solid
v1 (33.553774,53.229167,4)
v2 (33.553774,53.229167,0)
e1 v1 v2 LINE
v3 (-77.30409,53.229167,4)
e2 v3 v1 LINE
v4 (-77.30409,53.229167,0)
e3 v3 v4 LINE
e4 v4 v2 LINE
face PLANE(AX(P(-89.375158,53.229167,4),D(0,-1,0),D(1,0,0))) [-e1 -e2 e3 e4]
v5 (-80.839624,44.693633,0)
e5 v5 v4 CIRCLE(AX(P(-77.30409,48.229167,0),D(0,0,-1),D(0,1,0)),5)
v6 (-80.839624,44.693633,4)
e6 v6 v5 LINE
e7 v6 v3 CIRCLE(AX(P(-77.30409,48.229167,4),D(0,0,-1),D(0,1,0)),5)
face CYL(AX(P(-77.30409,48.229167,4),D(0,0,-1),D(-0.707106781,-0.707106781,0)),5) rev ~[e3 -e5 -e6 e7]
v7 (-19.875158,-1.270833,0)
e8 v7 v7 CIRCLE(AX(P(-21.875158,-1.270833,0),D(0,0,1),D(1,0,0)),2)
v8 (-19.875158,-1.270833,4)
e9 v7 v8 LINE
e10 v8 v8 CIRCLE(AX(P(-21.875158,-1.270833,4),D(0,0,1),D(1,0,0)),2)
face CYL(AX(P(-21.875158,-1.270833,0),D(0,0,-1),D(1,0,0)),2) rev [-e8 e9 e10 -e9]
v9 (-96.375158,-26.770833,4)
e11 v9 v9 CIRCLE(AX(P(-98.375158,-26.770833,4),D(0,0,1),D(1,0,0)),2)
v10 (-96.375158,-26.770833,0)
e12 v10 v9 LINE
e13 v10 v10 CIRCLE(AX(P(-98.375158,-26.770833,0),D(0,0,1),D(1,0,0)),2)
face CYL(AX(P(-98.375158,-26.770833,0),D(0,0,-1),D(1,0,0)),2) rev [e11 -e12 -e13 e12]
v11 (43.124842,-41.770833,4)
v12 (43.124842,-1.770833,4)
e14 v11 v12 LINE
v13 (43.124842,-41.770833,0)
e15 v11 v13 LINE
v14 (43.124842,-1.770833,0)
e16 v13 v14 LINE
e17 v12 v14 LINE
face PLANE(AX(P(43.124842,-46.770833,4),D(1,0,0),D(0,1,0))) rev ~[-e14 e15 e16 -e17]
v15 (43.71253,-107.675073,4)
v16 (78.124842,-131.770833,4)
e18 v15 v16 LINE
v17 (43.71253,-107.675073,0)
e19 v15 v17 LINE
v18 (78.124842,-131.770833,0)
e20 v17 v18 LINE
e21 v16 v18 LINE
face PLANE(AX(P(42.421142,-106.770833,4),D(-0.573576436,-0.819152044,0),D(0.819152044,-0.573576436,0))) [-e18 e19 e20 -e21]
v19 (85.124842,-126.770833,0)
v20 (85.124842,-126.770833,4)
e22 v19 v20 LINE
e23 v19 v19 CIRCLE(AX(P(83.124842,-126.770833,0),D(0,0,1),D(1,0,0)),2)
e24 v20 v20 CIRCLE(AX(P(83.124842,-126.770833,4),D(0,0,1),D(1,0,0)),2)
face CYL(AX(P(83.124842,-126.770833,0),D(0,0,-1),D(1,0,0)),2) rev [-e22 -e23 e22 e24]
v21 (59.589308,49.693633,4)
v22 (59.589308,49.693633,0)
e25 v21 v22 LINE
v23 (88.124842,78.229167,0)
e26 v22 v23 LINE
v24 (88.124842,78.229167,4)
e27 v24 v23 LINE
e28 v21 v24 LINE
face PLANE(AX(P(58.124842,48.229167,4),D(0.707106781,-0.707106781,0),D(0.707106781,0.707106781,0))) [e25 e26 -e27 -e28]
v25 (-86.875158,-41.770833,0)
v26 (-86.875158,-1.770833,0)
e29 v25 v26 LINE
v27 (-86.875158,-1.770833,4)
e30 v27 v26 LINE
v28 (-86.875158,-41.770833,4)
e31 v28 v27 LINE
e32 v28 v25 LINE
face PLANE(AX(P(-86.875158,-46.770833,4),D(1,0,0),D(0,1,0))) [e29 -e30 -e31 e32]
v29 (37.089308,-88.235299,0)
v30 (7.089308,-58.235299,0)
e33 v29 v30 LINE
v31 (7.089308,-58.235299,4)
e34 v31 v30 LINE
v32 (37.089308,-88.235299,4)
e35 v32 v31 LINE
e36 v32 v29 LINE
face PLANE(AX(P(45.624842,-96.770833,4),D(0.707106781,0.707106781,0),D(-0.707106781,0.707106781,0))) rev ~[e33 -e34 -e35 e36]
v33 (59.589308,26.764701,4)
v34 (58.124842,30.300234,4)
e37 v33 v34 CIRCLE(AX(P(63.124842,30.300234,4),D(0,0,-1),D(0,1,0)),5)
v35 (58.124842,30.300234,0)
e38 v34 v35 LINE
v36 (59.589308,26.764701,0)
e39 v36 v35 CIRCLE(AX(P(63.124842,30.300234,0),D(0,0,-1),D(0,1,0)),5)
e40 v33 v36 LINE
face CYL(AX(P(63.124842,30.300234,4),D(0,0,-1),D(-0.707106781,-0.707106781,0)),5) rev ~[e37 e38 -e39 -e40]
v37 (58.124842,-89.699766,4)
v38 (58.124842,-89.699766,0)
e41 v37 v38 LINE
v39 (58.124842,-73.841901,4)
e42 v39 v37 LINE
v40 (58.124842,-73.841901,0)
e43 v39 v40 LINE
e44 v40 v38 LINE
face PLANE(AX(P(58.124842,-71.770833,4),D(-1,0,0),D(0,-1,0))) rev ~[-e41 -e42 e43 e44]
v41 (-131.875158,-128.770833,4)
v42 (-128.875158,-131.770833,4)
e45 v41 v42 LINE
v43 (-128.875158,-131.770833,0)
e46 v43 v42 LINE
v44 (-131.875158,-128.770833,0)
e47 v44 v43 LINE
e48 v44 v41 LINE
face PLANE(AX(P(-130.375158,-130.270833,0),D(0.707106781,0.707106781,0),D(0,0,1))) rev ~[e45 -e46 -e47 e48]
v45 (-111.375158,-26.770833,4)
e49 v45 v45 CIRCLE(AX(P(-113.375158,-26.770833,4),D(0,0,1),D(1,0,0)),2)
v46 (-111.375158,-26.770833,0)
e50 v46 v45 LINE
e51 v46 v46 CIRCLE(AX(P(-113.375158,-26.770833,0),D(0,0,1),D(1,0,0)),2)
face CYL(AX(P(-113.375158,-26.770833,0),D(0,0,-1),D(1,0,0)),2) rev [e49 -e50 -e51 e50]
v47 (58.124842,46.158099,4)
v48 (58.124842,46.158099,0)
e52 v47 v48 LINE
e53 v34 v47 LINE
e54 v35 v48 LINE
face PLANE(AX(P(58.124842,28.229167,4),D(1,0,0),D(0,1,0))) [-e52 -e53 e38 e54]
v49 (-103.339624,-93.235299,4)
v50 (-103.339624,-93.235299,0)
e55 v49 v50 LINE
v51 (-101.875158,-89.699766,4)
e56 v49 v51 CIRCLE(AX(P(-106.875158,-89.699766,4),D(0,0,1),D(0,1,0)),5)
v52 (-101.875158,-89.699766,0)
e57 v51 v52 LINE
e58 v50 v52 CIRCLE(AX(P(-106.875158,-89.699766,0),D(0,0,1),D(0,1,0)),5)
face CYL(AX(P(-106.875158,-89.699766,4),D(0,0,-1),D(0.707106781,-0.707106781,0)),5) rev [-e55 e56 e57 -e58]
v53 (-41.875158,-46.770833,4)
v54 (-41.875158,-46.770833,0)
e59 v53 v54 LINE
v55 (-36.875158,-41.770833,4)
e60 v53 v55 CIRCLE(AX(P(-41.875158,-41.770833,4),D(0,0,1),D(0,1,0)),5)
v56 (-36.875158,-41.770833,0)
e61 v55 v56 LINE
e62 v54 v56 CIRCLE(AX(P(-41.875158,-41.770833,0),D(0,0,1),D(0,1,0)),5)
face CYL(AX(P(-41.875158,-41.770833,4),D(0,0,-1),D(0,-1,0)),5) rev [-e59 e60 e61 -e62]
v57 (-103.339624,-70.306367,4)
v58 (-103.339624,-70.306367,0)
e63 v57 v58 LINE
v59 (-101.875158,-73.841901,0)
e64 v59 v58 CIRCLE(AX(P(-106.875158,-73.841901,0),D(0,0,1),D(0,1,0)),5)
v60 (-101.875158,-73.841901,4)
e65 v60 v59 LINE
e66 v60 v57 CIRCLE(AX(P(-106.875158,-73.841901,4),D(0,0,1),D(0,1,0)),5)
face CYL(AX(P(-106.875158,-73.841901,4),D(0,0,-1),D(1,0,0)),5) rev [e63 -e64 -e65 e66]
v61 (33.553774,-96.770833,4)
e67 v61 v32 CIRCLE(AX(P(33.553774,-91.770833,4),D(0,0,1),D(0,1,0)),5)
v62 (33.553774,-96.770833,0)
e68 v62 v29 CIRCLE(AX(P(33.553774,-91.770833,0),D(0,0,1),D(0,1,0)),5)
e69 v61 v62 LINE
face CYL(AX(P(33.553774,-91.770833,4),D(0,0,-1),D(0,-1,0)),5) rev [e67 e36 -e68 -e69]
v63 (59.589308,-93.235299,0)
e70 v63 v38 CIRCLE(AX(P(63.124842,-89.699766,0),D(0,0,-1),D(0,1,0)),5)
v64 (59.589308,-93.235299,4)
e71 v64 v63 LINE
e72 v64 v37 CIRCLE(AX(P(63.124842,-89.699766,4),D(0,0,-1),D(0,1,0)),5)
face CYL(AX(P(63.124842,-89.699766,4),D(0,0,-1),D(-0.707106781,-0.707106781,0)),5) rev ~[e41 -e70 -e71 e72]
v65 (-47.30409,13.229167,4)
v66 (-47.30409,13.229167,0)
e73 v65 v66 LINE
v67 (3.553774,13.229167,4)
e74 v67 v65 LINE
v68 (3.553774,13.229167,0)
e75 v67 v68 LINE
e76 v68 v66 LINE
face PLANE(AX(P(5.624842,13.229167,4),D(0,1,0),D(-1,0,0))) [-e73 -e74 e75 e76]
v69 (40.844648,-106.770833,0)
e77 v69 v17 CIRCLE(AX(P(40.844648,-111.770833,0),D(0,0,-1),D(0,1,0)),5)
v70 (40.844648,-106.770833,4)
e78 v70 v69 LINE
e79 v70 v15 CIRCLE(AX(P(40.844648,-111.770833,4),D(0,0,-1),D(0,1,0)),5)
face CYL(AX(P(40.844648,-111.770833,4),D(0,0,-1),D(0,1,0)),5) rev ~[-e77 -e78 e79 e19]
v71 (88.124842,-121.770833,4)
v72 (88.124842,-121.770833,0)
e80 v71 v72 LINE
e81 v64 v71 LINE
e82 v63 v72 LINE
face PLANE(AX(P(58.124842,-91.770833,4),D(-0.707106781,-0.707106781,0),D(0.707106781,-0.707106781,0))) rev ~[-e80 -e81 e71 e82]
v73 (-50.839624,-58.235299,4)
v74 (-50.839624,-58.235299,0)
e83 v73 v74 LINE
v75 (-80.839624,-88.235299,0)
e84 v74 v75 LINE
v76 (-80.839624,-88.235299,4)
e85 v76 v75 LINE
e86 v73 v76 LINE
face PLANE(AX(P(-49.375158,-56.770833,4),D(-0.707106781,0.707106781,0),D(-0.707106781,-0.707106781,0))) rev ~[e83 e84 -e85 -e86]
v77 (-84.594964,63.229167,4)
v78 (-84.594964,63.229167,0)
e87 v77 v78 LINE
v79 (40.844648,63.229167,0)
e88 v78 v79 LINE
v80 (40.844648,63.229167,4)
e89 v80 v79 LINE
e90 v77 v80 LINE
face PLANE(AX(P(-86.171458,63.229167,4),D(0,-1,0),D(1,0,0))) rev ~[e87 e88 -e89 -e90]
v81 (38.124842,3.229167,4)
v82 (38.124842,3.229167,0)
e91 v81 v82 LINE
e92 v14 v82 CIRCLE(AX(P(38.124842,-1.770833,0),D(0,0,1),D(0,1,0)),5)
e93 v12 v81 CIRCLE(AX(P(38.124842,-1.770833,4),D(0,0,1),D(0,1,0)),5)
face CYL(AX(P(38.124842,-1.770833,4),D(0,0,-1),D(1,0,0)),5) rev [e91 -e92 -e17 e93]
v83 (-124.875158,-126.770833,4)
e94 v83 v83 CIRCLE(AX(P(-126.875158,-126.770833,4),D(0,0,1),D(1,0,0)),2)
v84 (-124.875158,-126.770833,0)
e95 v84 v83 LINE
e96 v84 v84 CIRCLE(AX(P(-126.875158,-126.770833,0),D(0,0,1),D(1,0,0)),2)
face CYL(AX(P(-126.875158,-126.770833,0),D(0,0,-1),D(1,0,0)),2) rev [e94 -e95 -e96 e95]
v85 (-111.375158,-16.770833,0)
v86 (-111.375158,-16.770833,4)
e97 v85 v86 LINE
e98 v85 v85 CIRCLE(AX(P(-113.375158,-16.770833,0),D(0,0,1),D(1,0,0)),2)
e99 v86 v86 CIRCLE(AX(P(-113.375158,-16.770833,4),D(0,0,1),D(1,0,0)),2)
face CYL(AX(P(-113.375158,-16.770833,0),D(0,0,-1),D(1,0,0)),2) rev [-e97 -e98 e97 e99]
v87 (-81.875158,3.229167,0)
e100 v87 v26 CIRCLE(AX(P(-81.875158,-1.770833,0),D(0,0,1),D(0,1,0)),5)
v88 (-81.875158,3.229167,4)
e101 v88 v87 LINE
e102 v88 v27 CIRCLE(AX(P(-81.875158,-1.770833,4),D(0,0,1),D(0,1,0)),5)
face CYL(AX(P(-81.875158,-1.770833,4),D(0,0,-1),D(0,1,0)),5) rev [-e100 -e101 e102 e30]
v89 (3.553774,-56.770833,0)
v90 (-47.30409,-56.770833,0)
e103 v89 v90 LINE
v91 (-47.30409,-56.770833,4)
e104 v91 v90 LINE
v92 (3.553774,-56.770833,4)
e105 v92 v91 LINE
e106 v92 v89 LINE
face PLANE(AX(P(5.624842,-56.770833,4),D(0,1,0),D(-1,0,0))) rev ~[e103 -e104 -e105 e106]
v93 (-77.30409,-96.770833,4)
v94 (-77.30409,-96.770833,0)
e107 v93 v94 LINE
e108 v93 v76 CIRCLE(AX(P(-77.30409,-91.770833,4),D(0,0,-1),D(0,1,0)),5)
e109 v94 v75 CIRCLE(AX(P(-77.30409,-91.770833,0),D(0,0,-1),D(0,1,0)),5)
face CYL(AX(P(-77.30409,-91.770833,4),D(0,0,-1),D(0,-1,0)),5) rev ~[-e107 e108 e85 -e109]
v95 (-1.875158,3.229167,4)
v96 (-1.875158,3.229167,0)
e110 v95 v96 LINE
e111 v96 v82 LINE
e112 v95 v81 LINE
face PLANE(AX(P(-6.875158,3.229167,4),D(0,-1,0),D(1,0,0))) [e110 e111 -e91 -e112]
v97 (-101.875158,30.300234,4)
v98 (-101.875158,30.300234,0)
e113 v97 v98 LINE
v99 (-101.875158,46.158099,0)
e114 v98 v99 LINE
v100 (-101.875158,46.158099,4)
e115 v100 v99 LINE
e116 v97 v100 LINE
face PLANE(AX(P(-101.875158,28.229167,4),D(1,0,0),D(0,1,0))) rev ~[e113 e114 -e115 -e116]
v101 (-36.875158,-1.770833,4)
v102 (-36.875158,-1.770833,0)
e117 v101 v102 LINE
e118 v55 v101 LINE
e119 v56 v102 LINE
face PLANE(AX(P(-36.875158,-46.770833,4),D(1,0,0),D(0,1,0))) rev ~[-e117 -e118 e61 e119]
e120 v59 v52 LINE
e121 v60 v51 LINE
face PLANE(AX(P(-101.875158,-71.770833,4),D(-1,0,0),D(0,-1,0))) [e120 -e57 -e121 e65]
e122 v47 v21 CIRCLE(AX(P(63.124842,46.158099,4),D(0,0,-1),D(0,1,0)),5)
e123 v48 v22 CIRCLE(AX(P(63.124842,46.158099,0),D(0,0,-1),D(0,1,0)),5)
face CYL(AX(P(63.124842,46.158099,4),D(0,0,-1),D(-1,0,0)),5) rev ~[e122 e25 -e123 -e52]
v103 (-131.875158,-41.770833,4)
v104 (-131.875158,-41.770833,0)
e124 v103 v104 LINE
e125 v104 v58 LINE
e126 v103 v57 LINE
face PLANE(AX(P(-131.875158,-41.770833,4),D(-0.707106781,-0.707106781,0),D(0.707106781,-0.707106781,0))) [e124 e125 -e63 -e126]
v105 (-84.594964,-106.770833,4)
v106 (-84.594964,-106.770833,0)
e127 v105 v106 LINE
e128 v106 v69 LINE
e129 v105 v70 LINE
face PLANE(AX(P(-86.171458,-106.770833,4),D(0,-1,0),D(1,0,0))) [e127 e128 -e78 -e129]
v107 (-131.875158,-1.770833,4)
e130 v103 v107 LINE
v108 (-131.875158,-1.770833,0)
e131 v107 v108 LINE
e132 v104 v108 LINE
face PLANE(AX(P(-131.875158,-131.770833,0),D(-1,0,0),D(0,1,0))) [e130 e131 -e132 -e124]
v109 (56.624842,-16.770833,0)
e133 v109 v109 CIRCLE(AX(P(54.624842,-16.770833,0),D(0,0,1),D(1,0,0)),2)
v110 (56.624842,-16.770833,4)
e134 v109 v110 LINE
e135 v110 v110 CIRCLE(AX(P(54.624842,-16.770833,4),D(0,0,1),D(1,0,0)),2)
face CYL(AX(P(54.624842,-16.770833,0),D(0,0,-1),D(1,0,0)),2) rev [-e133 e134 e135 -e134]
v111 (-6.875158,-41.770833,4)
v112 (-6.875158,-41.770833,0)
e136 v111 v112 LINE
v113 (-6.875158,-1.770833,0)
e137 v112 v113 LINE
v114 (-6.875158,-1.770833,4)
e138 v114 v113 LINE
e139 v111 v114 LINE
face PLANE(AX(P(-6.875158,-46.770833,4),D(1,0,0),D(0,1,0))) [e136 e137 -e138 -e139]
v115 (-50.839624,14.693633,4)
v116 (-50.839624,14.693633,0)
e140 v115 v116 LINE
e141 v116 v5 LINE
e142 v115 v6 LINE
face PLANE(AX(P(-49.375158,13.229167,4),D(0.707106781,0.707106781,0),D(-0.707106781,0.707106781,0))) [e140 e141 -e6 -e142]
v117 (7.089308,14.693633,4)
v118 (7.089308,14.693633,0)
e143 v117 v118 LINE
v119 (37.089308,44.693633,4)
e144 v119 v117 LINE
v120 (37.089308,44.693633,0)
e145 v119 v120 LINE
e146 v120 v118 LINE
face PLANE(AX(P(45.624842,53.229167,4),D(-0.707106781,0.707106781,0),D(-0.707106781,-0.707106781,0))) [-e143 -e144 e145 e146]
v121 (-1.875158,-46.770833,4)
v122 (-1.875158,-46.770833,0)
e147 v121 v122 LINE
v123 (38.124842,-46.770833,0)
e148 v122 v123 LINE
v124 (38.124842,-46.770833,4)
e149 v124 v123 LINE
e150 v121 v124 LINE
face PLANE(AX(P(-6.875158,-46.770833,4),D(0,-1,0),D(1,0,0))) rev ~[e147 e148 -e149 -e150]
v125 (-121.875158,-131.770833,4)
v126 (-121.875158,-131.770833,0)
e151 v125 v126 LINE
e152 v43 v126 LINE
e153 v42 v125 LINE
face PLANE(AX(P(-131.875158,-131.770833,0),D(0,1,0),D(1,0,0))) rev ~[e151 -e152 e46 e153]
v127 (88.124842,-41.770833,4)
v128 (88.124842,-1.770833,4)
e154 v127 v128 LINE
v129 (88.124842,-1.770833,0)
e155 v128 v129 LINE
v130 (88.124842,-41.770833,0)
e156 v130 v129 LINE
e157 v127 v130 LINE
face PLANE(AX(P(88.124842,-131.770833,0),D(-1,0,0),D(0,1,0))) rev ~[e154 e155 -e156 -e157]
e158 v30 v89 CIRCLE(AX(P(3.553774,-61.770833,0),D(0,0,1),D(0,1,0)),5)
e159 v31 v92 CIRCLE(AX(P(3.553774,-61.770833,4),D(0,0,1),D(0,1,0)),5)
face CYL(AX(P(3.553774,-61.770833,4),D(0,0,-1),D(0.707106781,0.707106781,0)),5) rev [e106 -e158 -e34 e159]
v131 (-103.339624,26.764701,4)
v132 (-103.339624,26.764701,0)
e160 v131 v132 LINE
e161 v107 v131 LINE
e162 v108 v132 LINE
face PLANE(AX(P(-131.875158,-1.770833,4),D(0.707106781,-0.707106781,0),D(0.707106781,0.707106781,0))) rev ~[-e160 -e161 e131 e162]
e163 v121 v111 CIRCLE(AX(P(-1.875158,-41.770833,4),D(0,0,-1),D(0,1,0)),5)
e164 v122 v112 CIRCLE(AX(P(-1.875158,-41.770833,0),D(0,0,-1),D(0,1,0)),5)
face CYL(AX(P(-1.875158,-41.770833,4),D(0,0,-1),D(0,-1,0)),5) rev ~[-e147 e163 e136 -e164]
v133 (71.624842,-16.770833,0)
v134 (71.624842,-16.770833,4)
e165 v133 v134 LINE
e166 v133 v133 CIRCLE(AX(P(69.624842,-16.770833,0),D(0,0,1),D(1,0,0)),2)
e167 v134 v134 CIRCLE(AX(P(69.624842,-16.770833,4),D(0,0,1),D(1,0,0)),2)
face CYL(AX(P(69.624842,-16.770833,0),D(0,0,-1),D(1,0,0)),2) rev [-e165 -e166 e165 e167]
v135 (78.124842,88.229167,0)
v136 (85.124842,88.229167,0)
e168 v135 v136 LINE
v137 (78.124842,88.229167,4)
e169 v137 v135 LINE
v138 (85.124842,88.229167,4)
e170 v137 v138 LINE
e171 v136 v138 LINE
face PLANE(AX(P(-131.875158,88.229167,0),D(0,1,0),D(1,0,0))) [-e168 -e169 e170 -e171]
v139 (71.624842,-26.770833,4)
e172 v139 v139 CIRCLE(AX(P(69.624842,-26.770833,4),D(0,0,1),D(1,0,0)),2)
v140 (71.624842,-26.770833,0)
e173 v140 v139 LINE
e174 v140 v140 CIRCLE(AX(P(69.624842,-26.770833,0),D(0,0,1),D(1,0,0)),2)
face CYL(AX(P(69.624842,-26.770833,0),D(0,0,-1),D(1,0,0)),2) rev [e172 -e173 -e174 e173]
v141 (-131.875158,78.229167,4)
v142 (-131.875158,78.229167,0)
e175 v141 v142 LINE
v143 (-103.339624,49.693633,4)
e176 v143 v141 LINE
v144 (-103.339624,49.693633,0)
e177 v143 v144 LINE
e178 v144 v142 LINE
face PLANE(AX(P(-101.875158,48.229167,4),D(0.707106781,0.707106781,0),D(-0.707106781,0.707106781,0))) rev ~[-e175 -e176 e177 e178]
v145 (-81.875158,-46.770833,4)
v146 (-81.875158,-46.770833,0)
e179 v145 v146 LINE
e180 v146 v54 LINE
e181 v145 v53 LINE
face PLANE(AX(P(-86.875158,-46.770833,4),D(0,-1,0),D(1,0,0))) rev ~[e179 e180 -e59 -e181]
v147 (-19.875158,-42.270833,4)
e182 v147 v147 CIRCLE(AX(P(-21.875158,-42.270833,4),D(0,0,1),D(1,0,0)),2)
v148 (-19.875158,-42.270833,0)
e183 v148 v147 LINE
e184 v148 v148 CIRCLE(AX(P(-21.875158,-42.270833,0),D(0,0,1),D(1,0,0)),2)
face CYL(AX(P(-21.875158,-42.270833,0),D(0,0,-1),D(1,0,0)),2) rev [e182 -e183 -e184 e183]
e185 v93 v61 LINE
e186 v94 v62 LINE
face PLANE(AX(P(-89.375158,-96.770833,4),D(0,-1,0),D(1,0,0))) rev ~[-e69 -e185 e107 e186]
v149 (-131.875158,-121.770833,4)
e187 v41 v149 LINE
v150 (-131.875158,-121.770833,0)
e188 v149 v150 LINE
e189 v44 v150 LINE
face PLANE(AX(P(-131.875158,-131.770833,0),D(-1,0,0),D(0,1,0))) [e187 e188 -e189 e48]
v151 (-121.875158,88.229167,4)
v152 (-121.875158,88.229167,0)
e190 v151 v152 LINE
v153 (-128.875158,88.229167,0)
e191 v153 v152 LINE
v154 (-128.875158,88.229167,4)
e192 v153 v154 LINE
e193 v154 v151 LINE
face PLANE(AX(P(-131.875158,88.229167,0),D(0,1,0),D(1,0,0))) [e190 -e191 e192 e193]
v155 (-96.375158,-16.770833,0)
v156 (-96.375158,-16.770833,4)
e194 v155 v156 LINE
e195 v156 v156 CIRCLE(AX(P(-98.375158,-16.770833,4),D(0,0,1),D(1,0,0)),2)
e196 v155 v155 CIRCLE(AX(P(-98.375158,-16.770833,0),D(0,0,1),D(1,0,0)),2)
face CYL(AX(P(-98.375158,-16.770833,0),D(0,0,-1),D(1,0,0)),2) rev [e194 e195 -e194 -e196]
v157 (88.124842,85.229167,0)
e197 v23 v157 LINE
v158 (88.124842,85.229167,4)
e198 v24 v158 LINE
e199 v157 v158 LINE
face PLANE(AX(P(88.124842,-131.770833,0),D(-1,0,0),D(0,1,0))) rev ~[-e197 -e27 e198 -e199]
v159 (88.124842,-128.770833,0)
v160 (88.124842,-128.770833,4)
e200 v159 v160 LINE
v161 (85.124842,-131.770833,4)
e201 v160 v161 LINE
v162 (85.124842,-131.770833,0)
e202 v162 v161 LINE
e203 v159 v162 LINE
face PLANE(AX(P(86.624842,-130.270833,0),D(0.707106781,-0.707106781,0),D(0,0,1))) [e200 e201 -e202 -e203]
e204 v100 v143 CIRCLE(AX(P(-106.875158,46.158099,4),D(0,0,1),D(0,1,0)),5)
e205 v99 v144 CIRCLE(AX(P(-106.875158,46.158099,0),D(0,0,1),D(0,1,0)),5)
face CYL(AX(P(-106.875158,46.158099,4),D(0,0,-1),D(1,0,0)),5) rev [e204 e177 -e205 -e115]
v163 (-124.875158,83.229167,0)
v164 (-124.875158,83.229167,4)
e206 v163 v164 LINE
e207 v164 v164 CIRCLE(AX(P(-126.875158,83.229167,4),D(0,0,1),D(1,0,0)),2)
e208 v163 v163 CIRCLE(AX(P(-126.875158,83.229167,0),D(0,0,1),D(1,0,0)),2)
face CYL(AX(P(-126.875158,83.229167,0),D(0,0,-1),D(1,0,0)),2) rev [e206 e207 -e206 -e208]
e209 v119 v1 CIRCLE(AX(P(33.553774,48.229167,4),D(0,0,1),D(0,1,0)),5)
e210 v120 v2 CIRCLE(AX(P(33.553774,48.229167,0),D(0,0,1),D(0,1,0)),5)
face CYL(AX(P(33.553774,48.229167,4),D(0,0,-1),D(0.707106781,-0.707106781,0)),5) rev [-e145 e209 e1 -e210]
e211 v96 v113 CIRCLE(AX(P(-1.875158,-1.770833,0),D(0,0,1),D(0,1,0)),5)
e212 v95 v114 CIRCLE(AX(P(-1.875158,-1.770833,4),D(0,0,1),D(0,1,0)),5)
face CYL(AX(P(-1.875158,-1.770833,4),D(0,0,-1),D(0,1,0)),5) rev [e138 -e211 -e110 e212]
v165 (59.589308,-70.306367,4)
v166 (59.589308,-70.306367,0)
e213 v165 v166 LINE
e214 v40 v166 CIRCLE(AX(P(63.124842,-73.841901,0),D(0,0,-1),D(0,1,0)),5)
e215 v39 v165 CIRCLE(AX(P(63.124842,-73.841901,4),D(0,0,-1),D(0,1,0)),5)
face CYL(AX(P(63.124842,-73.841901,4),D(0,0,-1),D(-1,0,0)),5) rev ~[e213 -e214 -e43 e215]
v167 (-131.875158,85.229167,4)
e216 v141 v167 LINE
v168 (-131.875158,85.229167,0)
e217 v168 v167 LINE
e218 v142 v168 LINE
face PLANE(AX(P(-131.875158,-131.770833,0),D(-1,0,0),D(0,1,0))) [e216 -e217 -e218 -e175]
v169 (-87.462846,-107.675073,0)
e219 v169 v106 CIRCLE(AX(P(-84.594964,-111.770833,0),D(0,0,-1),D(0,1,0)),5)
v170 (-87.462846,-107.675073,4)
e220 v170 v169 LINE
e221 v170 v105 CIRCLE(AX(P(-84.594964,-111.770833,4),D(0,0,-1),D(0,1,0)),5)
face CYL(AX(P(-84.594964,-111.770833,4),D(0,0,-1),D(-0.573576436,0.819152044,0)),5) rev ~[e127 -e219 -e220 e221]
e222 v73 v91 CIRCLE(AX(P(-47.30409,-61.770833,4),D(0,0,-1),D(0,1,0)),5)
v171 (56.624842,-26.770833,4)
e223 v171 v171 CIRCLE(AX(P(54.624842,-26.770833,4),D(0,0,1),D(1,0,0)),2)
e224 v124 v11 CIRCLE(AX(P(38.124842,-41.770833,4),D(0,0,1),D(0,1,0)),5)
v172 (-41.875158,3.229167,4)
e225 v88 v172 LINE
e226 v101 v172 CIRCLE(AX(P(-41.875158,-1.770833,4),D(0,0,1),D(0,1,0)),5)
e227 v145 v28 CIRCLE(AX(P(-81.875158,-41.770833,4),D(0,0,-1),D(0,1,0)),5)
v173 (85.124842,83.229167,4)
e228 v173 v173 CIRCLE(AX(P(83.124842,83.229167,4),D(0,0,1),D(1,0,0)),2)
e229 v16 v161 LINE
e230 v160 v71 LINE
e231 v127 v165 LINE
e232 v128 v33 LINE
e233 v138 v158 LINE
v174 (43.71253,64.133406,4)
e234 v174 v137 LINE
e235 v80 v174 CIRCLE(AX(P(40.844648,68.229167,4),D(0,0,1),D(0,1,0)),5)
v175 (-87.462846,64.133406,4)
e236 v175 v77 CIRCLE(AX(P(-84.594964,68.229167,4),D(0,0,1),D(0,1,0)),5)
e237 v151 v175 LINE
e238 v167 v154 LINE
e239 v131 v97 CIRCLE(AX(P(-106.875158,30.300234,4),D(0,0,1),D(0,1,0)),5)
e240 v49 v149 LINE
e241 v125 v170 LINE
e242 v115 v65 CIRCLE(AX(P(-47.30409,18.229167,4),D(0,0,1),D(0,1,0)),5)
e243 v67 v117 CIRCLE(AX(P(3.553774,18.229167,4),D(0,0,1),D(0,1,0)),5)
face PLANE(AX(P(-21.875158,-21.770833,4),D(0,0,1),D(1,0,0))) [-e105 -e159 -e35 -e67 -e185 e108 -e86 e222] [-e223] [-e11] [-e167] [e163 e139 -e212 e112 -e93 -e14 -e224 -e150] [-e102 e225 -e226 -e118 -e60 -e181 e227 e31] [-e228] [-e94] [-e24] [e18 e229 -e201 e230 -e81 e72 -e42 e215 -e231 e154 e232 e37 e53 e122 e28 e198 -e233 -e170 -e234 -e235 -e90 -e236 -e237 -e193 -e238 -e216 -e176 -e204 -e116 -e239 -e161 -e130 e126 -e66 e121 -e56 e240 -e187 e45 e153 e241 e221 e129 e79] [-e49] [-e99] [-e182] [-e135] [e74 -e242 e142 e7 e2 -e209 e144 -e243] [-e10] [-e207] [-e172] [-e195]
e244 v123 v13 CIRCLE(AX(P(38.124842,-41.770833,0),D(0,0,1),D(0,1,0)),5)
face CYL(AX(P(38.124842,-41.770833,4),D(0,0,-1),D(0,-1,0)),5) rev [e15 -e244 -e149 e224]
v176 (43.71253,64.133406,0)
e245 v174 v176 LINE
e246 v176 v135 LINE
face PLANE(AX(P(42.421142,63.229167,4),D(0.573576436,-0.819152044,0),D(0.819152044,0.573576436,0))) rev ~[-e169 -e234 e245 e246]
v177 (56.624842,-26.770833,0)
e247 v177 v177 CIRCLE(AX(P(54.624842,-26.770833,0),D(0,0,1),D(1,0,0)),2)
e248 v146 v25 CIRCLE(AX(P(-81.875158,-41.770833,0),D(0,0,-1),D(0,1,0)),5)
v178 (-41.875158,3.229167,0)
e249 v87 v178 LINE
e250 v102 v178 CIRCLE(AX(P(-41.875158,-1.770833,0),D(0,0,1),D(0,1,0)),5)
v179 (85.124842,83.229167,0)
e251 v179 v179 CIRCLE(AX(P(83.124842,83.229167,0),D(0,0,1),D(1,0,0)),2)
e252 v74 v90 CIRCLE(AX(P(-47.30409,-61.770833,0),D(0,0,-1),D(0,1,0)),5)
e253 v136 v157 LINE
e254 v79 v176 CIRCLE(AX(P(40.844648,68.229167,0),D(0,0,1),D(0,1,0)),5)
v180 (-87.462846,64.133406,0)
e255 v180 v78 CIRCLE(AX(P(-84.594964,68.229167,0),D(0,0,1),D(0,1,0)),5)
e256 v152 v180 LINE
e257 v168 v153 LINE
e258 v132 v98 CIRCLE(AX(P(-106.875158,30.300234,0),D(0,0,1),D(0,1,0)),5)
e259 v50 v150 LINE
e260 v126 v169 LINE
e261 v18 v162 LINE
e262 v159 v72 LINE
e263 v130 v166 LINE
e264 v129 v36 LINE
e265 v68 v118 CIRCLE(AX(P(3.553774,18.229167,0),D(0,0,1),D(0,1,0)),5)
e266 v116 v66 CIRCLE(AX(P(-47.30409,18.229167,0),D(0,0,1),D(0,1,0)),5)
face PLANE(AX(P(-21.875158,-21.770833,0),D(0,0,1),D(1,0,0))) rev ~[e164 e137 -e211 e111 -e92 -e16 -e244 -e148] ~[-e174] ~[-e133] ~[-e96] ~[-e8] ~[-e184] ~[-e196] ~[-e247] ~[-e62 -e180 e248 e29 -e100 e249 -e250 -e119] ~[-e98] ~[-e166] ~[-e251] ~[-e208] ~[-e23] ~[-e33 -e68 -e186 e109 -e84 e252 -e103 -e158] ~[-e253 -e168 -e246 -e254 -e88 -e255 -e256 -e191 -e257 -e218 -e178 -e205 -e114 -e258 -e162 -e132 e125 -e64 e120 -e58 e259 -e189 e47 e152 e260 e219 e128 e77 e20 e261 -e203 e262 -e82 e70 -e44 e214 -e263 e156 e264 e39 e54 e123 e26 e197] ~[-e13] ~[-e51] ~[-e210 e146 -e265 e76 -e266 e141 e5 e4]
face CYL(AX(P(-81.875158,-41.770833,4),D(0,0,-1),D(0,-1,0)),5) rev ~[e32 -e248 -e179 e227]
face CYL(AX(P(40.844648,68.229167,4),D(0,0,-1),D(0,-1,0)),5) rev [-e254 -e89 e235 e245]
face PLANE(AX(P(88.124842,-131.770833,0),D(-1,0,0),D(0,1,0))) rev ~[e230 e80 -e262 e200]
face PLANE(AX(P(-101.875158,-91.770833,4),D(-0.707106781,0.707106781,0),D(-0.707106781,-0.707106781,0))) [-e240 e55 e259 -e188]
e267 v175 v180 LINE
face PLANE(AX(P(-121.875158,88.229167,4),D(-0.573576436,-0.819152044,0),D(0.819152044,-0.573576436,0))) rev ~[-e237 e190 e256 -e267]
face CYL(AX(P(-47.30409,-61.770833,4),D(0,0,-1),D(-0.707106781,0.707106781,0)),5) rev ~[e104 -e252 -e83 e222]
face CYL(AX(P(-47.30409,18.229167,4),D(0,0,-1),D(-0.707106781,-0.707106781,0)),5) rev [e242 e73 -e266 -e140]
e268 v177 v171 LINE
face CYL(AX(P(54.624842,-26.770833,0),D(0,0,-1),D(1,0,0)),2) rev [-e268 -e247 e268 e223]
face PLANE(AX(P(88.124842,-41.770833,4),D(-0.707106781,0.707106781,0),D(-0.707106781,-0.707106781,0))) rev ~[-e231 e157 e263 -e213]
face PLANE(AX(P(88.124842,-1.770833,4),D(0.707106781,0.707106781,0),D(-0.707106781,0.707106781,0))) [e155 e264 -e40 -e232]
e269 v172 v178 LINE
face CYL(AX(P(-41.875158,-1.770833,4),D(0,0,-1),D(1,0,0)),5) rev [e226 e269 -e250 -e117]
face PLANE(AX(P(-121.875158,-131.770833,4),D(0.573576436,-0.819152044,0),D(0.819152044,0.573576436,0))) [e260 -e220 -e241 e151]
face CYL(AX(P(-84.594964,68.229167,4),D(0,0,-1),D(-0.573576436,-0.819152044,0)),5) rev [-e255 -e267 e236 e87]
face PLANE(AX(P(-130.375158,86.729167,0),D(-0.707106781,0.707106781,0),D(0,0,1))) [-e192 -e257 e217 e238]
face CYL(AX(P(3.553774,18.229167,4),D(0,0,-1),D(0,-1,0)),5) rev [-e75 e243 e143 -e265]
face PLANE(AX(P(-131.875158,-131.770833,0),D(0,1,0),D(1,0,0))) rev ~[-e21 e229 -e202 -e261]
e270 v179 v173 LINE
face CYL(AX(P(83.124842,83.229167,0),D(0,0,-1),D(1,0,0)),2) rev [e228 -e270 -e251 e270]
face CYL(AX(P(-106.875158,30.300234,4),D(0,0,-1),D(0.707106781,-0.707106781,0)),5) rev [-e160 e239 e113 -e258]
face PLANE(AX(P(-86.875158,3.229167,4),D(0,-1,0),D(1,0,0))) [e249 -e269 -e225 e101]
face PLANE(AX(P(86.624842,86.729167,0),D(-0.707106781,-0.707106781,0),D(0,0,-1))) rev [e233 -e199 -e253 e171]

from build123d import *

# Parameters (mm, degrees)
ESQUISSE1_W             = 220
ESQUISSE1_H             = 220
ESQUISSE1_R             = 2
BOSS_EXTRU_1_DEPTH      = 4
ESQUISSE2_W             = 50
ESQUISSE2_H             = 50
ENL_V_MAT_EXTRU_1_DEPTH = 5
CONG_1_R                = 5
CHANFREIN1_SIZE         = 3
CONG_2_R                = 5


with BuildPart() as part:
    # Esquisse1 → Boss.-Extru.1 (new body)
    with BuildSketch(Plane.XY):
        with Locations((-21.875157945, -21.770833333)):
            Rectangle(ESQUISSE1_W, ESQUISSE1_H)
        with Locations((-126.875157945, 83.229166667)):
            Circle(ESQUISSE1_R, mode=Mode.SUBTRACT)
        with Locations((83.124842055, 83.229166667)):
            Circle(ESQUISSE1_R, mode=Mode.SUBTRACT)
        with Locations((-126.875157945, -126.770833333)):
            Circle(ESQUISSE1_R, mode=Mode.SUBTRACT)
        with Locations((83.124842055, -126.770833333)):
            Circle(ESQUISSE1_R, mode=Mode.SUBTRACT)
        with Locations((-113.375157945, -16.770833333)):
            Circle(ESQUISSE1_R, mode=Mode.SUBTRACT)
        with Locations((-98.375157945, -16.770833333)):
            Circle(ESQUISSE1_R, mode=Mode.SUBTRACT)
        with Locations((-113.375157945, -26.770833333)):
            Circle(ESQUISSE1_R, mode=Mode.SUBTRACT)
        with Locations((-98.375157945, -26.770833333)):
            Circle(ESQUISSE1_R, mode=Mode.SUBTRACT)
        with Locations((54.624842055, -16.770833333)):
            Circle(ESQUISSE1_R, mode=Mode.SUBTRACT)
        with Locations((69.624842055, -16.770833333)):
            Circle(ESQUISSE1_R, mode=Mode.SUBTRACT)
        with Locations((54.624842055, -26.770833333)):
            Circle(ESQUISSE1_R, mode=Mode.SUBTRACT)
        with Locations((69.624842055, -26.770833333)):
            Circle(ESQUISSE1_R, mode=Mode.SUBTRACT)
        with Locations((-21.875157945, -1.270833333)):
            Circle(ESQUISSE1_R, mode=Mode.SUBTRACT)
        with Locations((-21.875157945, -42.270833333)):
            Circle(ESQUISSE1_R, mode=Mode.SUBTRACT)
    extrude(amount=BOSS_EXTRU_1_DEPTH)

    # Esquisse2 → Enlèv. mat.-Extru.1 (cut, through all)
    with BuildSketch(Plane.XY.offset(4)):
        Polygon((-89.375157945, 53.229166667), (45.624842055, 53.229166667), (5.624842055, 13.229166667), (-49.375157945, 13.229166667), align=None)
        Polygon((-89.375157945, -96.770833333), (45.624842055, -96.770833333), (5.624842055, -56.770833333), (-49.375157945, -56.770833333), align=None)
        Polygon((88.124842055, -41.770833333), (58.124842055, -71.770833333), (58.124842055, -91.770833333), (88.124842055, -121.770833333), align=None)
        Polygon((88.124842055, 78.229166667), (88.124842055, -1.770833333), (58.124842055, 28.229166667), (58.124842055, 48.229166667), align=None)
        Polygon((-131.875157945, 78.229166667), (-131.875157945, -1.770833333), (-101.875157945, 28.229166667), (-101.875157945, 48.229166667), align=None)
        Polygon((-131.875157945, -41.770833333), (-101.875157945, -71.770833333), (-101.875157945, -91.770833333), (-131.875157945, -121.770833333), align=None)
        with Locations((18.124842055, -21.770833333)):
            Rectangle(ESQUISSE2_W, ESQUISSE2_H)
        with Locations((-61.875157945, -21.770833333)):
            Rectangle(ESQUISSE2_W, ESQUISSE2_H)
        Polygon((-121.875157945, -131.770833333), (-86.171457776, -106.770833333), (42.421141887, -106.770833333), (78.124842055, -131.770833333), align=None)
        Polygon((-121.875157945, 88.229166667), (-86.171457776, 63.229166667), (42.421141887, 63.229166667), (78.124842055, 88.229166667), align=None)
    extrude(amount=-ENL_V_MAT_EXTRU_1_DEPTH, mode=Mode.SUBTRACT)

    # Congé1
    cong_1_edges = [part.edges().sort_by_distance(p)[0] for p in [
        (-89.375157945, 53.229166667, 2),
        (45.624842055, 53.229166667, 2),
        (-89.375157945, -96.770833333, 2),
        (45.624842055, -96.770833333, 2),
    ]]
    fillet(cong_1_edges, radius=CONG_1_R)

    # Chanfrein1
    chanfrein1_edges = [part.edges().sort_by_distance(p)[0] for p in [
        (-131.875157945, 88.229166667, 2),
        (88.124842055, 88.229166667, 2),
        (88.124842055, -131.770833333, 2),
        (-131.875157945, -131.770833333, 2),
    ]]
    chamfer(chanfrein1_edges, length=CHANFREIN1_SIZE)

    # Congé2
    cong_2_edges = [part.edges().sort_by_distance(p)[0] for p in [
        (58.124842055, -91.770833333, 2),
        (58.124842055, -71.770833333, 2),
        (58.124842055, 48.229166667, 2),
        (58.124842055, 28.229166667, 2),
        (-101.875157945, 48.229166667, 2),
        (-101.875157945, 28.229166667, 2),
        (-101.875157945, -71.770833333, 2),
        (-101.875157945, -91.770833333, 2),
        (-86.875157945, -46.770833333, 2),
        (-86.875157945, 3.229166667, 2),
        (-36.875157945, 3.229166667, 2),
        (-36.875157945, -46.770833333, 2),
        (-6.875157945, -46.770833333, 2),
        (-6.875157945, 3.229166667, 2),
        (43.124842055, 3.229166667, 2),
        (43.124842055, -46.770833333, 2),
        (-86.171457776, -106.770833333, 2),
        (42.421141887, -106.770833333, 2),
        (42.421141887, 63.229166667, 2),
        (-86.171457776, 63.229166667, 2),
        (-49.375157945, 13.229166667, 2),
        (5.624842055, 13.229166667, 2),
        (-49.375157945, -56.770833333, 2),
        (5.624842055, -56.770833333, 2),
    ]]
    fillet(cong_2_edges, radius=CONG_2_R)


solid = part.part
